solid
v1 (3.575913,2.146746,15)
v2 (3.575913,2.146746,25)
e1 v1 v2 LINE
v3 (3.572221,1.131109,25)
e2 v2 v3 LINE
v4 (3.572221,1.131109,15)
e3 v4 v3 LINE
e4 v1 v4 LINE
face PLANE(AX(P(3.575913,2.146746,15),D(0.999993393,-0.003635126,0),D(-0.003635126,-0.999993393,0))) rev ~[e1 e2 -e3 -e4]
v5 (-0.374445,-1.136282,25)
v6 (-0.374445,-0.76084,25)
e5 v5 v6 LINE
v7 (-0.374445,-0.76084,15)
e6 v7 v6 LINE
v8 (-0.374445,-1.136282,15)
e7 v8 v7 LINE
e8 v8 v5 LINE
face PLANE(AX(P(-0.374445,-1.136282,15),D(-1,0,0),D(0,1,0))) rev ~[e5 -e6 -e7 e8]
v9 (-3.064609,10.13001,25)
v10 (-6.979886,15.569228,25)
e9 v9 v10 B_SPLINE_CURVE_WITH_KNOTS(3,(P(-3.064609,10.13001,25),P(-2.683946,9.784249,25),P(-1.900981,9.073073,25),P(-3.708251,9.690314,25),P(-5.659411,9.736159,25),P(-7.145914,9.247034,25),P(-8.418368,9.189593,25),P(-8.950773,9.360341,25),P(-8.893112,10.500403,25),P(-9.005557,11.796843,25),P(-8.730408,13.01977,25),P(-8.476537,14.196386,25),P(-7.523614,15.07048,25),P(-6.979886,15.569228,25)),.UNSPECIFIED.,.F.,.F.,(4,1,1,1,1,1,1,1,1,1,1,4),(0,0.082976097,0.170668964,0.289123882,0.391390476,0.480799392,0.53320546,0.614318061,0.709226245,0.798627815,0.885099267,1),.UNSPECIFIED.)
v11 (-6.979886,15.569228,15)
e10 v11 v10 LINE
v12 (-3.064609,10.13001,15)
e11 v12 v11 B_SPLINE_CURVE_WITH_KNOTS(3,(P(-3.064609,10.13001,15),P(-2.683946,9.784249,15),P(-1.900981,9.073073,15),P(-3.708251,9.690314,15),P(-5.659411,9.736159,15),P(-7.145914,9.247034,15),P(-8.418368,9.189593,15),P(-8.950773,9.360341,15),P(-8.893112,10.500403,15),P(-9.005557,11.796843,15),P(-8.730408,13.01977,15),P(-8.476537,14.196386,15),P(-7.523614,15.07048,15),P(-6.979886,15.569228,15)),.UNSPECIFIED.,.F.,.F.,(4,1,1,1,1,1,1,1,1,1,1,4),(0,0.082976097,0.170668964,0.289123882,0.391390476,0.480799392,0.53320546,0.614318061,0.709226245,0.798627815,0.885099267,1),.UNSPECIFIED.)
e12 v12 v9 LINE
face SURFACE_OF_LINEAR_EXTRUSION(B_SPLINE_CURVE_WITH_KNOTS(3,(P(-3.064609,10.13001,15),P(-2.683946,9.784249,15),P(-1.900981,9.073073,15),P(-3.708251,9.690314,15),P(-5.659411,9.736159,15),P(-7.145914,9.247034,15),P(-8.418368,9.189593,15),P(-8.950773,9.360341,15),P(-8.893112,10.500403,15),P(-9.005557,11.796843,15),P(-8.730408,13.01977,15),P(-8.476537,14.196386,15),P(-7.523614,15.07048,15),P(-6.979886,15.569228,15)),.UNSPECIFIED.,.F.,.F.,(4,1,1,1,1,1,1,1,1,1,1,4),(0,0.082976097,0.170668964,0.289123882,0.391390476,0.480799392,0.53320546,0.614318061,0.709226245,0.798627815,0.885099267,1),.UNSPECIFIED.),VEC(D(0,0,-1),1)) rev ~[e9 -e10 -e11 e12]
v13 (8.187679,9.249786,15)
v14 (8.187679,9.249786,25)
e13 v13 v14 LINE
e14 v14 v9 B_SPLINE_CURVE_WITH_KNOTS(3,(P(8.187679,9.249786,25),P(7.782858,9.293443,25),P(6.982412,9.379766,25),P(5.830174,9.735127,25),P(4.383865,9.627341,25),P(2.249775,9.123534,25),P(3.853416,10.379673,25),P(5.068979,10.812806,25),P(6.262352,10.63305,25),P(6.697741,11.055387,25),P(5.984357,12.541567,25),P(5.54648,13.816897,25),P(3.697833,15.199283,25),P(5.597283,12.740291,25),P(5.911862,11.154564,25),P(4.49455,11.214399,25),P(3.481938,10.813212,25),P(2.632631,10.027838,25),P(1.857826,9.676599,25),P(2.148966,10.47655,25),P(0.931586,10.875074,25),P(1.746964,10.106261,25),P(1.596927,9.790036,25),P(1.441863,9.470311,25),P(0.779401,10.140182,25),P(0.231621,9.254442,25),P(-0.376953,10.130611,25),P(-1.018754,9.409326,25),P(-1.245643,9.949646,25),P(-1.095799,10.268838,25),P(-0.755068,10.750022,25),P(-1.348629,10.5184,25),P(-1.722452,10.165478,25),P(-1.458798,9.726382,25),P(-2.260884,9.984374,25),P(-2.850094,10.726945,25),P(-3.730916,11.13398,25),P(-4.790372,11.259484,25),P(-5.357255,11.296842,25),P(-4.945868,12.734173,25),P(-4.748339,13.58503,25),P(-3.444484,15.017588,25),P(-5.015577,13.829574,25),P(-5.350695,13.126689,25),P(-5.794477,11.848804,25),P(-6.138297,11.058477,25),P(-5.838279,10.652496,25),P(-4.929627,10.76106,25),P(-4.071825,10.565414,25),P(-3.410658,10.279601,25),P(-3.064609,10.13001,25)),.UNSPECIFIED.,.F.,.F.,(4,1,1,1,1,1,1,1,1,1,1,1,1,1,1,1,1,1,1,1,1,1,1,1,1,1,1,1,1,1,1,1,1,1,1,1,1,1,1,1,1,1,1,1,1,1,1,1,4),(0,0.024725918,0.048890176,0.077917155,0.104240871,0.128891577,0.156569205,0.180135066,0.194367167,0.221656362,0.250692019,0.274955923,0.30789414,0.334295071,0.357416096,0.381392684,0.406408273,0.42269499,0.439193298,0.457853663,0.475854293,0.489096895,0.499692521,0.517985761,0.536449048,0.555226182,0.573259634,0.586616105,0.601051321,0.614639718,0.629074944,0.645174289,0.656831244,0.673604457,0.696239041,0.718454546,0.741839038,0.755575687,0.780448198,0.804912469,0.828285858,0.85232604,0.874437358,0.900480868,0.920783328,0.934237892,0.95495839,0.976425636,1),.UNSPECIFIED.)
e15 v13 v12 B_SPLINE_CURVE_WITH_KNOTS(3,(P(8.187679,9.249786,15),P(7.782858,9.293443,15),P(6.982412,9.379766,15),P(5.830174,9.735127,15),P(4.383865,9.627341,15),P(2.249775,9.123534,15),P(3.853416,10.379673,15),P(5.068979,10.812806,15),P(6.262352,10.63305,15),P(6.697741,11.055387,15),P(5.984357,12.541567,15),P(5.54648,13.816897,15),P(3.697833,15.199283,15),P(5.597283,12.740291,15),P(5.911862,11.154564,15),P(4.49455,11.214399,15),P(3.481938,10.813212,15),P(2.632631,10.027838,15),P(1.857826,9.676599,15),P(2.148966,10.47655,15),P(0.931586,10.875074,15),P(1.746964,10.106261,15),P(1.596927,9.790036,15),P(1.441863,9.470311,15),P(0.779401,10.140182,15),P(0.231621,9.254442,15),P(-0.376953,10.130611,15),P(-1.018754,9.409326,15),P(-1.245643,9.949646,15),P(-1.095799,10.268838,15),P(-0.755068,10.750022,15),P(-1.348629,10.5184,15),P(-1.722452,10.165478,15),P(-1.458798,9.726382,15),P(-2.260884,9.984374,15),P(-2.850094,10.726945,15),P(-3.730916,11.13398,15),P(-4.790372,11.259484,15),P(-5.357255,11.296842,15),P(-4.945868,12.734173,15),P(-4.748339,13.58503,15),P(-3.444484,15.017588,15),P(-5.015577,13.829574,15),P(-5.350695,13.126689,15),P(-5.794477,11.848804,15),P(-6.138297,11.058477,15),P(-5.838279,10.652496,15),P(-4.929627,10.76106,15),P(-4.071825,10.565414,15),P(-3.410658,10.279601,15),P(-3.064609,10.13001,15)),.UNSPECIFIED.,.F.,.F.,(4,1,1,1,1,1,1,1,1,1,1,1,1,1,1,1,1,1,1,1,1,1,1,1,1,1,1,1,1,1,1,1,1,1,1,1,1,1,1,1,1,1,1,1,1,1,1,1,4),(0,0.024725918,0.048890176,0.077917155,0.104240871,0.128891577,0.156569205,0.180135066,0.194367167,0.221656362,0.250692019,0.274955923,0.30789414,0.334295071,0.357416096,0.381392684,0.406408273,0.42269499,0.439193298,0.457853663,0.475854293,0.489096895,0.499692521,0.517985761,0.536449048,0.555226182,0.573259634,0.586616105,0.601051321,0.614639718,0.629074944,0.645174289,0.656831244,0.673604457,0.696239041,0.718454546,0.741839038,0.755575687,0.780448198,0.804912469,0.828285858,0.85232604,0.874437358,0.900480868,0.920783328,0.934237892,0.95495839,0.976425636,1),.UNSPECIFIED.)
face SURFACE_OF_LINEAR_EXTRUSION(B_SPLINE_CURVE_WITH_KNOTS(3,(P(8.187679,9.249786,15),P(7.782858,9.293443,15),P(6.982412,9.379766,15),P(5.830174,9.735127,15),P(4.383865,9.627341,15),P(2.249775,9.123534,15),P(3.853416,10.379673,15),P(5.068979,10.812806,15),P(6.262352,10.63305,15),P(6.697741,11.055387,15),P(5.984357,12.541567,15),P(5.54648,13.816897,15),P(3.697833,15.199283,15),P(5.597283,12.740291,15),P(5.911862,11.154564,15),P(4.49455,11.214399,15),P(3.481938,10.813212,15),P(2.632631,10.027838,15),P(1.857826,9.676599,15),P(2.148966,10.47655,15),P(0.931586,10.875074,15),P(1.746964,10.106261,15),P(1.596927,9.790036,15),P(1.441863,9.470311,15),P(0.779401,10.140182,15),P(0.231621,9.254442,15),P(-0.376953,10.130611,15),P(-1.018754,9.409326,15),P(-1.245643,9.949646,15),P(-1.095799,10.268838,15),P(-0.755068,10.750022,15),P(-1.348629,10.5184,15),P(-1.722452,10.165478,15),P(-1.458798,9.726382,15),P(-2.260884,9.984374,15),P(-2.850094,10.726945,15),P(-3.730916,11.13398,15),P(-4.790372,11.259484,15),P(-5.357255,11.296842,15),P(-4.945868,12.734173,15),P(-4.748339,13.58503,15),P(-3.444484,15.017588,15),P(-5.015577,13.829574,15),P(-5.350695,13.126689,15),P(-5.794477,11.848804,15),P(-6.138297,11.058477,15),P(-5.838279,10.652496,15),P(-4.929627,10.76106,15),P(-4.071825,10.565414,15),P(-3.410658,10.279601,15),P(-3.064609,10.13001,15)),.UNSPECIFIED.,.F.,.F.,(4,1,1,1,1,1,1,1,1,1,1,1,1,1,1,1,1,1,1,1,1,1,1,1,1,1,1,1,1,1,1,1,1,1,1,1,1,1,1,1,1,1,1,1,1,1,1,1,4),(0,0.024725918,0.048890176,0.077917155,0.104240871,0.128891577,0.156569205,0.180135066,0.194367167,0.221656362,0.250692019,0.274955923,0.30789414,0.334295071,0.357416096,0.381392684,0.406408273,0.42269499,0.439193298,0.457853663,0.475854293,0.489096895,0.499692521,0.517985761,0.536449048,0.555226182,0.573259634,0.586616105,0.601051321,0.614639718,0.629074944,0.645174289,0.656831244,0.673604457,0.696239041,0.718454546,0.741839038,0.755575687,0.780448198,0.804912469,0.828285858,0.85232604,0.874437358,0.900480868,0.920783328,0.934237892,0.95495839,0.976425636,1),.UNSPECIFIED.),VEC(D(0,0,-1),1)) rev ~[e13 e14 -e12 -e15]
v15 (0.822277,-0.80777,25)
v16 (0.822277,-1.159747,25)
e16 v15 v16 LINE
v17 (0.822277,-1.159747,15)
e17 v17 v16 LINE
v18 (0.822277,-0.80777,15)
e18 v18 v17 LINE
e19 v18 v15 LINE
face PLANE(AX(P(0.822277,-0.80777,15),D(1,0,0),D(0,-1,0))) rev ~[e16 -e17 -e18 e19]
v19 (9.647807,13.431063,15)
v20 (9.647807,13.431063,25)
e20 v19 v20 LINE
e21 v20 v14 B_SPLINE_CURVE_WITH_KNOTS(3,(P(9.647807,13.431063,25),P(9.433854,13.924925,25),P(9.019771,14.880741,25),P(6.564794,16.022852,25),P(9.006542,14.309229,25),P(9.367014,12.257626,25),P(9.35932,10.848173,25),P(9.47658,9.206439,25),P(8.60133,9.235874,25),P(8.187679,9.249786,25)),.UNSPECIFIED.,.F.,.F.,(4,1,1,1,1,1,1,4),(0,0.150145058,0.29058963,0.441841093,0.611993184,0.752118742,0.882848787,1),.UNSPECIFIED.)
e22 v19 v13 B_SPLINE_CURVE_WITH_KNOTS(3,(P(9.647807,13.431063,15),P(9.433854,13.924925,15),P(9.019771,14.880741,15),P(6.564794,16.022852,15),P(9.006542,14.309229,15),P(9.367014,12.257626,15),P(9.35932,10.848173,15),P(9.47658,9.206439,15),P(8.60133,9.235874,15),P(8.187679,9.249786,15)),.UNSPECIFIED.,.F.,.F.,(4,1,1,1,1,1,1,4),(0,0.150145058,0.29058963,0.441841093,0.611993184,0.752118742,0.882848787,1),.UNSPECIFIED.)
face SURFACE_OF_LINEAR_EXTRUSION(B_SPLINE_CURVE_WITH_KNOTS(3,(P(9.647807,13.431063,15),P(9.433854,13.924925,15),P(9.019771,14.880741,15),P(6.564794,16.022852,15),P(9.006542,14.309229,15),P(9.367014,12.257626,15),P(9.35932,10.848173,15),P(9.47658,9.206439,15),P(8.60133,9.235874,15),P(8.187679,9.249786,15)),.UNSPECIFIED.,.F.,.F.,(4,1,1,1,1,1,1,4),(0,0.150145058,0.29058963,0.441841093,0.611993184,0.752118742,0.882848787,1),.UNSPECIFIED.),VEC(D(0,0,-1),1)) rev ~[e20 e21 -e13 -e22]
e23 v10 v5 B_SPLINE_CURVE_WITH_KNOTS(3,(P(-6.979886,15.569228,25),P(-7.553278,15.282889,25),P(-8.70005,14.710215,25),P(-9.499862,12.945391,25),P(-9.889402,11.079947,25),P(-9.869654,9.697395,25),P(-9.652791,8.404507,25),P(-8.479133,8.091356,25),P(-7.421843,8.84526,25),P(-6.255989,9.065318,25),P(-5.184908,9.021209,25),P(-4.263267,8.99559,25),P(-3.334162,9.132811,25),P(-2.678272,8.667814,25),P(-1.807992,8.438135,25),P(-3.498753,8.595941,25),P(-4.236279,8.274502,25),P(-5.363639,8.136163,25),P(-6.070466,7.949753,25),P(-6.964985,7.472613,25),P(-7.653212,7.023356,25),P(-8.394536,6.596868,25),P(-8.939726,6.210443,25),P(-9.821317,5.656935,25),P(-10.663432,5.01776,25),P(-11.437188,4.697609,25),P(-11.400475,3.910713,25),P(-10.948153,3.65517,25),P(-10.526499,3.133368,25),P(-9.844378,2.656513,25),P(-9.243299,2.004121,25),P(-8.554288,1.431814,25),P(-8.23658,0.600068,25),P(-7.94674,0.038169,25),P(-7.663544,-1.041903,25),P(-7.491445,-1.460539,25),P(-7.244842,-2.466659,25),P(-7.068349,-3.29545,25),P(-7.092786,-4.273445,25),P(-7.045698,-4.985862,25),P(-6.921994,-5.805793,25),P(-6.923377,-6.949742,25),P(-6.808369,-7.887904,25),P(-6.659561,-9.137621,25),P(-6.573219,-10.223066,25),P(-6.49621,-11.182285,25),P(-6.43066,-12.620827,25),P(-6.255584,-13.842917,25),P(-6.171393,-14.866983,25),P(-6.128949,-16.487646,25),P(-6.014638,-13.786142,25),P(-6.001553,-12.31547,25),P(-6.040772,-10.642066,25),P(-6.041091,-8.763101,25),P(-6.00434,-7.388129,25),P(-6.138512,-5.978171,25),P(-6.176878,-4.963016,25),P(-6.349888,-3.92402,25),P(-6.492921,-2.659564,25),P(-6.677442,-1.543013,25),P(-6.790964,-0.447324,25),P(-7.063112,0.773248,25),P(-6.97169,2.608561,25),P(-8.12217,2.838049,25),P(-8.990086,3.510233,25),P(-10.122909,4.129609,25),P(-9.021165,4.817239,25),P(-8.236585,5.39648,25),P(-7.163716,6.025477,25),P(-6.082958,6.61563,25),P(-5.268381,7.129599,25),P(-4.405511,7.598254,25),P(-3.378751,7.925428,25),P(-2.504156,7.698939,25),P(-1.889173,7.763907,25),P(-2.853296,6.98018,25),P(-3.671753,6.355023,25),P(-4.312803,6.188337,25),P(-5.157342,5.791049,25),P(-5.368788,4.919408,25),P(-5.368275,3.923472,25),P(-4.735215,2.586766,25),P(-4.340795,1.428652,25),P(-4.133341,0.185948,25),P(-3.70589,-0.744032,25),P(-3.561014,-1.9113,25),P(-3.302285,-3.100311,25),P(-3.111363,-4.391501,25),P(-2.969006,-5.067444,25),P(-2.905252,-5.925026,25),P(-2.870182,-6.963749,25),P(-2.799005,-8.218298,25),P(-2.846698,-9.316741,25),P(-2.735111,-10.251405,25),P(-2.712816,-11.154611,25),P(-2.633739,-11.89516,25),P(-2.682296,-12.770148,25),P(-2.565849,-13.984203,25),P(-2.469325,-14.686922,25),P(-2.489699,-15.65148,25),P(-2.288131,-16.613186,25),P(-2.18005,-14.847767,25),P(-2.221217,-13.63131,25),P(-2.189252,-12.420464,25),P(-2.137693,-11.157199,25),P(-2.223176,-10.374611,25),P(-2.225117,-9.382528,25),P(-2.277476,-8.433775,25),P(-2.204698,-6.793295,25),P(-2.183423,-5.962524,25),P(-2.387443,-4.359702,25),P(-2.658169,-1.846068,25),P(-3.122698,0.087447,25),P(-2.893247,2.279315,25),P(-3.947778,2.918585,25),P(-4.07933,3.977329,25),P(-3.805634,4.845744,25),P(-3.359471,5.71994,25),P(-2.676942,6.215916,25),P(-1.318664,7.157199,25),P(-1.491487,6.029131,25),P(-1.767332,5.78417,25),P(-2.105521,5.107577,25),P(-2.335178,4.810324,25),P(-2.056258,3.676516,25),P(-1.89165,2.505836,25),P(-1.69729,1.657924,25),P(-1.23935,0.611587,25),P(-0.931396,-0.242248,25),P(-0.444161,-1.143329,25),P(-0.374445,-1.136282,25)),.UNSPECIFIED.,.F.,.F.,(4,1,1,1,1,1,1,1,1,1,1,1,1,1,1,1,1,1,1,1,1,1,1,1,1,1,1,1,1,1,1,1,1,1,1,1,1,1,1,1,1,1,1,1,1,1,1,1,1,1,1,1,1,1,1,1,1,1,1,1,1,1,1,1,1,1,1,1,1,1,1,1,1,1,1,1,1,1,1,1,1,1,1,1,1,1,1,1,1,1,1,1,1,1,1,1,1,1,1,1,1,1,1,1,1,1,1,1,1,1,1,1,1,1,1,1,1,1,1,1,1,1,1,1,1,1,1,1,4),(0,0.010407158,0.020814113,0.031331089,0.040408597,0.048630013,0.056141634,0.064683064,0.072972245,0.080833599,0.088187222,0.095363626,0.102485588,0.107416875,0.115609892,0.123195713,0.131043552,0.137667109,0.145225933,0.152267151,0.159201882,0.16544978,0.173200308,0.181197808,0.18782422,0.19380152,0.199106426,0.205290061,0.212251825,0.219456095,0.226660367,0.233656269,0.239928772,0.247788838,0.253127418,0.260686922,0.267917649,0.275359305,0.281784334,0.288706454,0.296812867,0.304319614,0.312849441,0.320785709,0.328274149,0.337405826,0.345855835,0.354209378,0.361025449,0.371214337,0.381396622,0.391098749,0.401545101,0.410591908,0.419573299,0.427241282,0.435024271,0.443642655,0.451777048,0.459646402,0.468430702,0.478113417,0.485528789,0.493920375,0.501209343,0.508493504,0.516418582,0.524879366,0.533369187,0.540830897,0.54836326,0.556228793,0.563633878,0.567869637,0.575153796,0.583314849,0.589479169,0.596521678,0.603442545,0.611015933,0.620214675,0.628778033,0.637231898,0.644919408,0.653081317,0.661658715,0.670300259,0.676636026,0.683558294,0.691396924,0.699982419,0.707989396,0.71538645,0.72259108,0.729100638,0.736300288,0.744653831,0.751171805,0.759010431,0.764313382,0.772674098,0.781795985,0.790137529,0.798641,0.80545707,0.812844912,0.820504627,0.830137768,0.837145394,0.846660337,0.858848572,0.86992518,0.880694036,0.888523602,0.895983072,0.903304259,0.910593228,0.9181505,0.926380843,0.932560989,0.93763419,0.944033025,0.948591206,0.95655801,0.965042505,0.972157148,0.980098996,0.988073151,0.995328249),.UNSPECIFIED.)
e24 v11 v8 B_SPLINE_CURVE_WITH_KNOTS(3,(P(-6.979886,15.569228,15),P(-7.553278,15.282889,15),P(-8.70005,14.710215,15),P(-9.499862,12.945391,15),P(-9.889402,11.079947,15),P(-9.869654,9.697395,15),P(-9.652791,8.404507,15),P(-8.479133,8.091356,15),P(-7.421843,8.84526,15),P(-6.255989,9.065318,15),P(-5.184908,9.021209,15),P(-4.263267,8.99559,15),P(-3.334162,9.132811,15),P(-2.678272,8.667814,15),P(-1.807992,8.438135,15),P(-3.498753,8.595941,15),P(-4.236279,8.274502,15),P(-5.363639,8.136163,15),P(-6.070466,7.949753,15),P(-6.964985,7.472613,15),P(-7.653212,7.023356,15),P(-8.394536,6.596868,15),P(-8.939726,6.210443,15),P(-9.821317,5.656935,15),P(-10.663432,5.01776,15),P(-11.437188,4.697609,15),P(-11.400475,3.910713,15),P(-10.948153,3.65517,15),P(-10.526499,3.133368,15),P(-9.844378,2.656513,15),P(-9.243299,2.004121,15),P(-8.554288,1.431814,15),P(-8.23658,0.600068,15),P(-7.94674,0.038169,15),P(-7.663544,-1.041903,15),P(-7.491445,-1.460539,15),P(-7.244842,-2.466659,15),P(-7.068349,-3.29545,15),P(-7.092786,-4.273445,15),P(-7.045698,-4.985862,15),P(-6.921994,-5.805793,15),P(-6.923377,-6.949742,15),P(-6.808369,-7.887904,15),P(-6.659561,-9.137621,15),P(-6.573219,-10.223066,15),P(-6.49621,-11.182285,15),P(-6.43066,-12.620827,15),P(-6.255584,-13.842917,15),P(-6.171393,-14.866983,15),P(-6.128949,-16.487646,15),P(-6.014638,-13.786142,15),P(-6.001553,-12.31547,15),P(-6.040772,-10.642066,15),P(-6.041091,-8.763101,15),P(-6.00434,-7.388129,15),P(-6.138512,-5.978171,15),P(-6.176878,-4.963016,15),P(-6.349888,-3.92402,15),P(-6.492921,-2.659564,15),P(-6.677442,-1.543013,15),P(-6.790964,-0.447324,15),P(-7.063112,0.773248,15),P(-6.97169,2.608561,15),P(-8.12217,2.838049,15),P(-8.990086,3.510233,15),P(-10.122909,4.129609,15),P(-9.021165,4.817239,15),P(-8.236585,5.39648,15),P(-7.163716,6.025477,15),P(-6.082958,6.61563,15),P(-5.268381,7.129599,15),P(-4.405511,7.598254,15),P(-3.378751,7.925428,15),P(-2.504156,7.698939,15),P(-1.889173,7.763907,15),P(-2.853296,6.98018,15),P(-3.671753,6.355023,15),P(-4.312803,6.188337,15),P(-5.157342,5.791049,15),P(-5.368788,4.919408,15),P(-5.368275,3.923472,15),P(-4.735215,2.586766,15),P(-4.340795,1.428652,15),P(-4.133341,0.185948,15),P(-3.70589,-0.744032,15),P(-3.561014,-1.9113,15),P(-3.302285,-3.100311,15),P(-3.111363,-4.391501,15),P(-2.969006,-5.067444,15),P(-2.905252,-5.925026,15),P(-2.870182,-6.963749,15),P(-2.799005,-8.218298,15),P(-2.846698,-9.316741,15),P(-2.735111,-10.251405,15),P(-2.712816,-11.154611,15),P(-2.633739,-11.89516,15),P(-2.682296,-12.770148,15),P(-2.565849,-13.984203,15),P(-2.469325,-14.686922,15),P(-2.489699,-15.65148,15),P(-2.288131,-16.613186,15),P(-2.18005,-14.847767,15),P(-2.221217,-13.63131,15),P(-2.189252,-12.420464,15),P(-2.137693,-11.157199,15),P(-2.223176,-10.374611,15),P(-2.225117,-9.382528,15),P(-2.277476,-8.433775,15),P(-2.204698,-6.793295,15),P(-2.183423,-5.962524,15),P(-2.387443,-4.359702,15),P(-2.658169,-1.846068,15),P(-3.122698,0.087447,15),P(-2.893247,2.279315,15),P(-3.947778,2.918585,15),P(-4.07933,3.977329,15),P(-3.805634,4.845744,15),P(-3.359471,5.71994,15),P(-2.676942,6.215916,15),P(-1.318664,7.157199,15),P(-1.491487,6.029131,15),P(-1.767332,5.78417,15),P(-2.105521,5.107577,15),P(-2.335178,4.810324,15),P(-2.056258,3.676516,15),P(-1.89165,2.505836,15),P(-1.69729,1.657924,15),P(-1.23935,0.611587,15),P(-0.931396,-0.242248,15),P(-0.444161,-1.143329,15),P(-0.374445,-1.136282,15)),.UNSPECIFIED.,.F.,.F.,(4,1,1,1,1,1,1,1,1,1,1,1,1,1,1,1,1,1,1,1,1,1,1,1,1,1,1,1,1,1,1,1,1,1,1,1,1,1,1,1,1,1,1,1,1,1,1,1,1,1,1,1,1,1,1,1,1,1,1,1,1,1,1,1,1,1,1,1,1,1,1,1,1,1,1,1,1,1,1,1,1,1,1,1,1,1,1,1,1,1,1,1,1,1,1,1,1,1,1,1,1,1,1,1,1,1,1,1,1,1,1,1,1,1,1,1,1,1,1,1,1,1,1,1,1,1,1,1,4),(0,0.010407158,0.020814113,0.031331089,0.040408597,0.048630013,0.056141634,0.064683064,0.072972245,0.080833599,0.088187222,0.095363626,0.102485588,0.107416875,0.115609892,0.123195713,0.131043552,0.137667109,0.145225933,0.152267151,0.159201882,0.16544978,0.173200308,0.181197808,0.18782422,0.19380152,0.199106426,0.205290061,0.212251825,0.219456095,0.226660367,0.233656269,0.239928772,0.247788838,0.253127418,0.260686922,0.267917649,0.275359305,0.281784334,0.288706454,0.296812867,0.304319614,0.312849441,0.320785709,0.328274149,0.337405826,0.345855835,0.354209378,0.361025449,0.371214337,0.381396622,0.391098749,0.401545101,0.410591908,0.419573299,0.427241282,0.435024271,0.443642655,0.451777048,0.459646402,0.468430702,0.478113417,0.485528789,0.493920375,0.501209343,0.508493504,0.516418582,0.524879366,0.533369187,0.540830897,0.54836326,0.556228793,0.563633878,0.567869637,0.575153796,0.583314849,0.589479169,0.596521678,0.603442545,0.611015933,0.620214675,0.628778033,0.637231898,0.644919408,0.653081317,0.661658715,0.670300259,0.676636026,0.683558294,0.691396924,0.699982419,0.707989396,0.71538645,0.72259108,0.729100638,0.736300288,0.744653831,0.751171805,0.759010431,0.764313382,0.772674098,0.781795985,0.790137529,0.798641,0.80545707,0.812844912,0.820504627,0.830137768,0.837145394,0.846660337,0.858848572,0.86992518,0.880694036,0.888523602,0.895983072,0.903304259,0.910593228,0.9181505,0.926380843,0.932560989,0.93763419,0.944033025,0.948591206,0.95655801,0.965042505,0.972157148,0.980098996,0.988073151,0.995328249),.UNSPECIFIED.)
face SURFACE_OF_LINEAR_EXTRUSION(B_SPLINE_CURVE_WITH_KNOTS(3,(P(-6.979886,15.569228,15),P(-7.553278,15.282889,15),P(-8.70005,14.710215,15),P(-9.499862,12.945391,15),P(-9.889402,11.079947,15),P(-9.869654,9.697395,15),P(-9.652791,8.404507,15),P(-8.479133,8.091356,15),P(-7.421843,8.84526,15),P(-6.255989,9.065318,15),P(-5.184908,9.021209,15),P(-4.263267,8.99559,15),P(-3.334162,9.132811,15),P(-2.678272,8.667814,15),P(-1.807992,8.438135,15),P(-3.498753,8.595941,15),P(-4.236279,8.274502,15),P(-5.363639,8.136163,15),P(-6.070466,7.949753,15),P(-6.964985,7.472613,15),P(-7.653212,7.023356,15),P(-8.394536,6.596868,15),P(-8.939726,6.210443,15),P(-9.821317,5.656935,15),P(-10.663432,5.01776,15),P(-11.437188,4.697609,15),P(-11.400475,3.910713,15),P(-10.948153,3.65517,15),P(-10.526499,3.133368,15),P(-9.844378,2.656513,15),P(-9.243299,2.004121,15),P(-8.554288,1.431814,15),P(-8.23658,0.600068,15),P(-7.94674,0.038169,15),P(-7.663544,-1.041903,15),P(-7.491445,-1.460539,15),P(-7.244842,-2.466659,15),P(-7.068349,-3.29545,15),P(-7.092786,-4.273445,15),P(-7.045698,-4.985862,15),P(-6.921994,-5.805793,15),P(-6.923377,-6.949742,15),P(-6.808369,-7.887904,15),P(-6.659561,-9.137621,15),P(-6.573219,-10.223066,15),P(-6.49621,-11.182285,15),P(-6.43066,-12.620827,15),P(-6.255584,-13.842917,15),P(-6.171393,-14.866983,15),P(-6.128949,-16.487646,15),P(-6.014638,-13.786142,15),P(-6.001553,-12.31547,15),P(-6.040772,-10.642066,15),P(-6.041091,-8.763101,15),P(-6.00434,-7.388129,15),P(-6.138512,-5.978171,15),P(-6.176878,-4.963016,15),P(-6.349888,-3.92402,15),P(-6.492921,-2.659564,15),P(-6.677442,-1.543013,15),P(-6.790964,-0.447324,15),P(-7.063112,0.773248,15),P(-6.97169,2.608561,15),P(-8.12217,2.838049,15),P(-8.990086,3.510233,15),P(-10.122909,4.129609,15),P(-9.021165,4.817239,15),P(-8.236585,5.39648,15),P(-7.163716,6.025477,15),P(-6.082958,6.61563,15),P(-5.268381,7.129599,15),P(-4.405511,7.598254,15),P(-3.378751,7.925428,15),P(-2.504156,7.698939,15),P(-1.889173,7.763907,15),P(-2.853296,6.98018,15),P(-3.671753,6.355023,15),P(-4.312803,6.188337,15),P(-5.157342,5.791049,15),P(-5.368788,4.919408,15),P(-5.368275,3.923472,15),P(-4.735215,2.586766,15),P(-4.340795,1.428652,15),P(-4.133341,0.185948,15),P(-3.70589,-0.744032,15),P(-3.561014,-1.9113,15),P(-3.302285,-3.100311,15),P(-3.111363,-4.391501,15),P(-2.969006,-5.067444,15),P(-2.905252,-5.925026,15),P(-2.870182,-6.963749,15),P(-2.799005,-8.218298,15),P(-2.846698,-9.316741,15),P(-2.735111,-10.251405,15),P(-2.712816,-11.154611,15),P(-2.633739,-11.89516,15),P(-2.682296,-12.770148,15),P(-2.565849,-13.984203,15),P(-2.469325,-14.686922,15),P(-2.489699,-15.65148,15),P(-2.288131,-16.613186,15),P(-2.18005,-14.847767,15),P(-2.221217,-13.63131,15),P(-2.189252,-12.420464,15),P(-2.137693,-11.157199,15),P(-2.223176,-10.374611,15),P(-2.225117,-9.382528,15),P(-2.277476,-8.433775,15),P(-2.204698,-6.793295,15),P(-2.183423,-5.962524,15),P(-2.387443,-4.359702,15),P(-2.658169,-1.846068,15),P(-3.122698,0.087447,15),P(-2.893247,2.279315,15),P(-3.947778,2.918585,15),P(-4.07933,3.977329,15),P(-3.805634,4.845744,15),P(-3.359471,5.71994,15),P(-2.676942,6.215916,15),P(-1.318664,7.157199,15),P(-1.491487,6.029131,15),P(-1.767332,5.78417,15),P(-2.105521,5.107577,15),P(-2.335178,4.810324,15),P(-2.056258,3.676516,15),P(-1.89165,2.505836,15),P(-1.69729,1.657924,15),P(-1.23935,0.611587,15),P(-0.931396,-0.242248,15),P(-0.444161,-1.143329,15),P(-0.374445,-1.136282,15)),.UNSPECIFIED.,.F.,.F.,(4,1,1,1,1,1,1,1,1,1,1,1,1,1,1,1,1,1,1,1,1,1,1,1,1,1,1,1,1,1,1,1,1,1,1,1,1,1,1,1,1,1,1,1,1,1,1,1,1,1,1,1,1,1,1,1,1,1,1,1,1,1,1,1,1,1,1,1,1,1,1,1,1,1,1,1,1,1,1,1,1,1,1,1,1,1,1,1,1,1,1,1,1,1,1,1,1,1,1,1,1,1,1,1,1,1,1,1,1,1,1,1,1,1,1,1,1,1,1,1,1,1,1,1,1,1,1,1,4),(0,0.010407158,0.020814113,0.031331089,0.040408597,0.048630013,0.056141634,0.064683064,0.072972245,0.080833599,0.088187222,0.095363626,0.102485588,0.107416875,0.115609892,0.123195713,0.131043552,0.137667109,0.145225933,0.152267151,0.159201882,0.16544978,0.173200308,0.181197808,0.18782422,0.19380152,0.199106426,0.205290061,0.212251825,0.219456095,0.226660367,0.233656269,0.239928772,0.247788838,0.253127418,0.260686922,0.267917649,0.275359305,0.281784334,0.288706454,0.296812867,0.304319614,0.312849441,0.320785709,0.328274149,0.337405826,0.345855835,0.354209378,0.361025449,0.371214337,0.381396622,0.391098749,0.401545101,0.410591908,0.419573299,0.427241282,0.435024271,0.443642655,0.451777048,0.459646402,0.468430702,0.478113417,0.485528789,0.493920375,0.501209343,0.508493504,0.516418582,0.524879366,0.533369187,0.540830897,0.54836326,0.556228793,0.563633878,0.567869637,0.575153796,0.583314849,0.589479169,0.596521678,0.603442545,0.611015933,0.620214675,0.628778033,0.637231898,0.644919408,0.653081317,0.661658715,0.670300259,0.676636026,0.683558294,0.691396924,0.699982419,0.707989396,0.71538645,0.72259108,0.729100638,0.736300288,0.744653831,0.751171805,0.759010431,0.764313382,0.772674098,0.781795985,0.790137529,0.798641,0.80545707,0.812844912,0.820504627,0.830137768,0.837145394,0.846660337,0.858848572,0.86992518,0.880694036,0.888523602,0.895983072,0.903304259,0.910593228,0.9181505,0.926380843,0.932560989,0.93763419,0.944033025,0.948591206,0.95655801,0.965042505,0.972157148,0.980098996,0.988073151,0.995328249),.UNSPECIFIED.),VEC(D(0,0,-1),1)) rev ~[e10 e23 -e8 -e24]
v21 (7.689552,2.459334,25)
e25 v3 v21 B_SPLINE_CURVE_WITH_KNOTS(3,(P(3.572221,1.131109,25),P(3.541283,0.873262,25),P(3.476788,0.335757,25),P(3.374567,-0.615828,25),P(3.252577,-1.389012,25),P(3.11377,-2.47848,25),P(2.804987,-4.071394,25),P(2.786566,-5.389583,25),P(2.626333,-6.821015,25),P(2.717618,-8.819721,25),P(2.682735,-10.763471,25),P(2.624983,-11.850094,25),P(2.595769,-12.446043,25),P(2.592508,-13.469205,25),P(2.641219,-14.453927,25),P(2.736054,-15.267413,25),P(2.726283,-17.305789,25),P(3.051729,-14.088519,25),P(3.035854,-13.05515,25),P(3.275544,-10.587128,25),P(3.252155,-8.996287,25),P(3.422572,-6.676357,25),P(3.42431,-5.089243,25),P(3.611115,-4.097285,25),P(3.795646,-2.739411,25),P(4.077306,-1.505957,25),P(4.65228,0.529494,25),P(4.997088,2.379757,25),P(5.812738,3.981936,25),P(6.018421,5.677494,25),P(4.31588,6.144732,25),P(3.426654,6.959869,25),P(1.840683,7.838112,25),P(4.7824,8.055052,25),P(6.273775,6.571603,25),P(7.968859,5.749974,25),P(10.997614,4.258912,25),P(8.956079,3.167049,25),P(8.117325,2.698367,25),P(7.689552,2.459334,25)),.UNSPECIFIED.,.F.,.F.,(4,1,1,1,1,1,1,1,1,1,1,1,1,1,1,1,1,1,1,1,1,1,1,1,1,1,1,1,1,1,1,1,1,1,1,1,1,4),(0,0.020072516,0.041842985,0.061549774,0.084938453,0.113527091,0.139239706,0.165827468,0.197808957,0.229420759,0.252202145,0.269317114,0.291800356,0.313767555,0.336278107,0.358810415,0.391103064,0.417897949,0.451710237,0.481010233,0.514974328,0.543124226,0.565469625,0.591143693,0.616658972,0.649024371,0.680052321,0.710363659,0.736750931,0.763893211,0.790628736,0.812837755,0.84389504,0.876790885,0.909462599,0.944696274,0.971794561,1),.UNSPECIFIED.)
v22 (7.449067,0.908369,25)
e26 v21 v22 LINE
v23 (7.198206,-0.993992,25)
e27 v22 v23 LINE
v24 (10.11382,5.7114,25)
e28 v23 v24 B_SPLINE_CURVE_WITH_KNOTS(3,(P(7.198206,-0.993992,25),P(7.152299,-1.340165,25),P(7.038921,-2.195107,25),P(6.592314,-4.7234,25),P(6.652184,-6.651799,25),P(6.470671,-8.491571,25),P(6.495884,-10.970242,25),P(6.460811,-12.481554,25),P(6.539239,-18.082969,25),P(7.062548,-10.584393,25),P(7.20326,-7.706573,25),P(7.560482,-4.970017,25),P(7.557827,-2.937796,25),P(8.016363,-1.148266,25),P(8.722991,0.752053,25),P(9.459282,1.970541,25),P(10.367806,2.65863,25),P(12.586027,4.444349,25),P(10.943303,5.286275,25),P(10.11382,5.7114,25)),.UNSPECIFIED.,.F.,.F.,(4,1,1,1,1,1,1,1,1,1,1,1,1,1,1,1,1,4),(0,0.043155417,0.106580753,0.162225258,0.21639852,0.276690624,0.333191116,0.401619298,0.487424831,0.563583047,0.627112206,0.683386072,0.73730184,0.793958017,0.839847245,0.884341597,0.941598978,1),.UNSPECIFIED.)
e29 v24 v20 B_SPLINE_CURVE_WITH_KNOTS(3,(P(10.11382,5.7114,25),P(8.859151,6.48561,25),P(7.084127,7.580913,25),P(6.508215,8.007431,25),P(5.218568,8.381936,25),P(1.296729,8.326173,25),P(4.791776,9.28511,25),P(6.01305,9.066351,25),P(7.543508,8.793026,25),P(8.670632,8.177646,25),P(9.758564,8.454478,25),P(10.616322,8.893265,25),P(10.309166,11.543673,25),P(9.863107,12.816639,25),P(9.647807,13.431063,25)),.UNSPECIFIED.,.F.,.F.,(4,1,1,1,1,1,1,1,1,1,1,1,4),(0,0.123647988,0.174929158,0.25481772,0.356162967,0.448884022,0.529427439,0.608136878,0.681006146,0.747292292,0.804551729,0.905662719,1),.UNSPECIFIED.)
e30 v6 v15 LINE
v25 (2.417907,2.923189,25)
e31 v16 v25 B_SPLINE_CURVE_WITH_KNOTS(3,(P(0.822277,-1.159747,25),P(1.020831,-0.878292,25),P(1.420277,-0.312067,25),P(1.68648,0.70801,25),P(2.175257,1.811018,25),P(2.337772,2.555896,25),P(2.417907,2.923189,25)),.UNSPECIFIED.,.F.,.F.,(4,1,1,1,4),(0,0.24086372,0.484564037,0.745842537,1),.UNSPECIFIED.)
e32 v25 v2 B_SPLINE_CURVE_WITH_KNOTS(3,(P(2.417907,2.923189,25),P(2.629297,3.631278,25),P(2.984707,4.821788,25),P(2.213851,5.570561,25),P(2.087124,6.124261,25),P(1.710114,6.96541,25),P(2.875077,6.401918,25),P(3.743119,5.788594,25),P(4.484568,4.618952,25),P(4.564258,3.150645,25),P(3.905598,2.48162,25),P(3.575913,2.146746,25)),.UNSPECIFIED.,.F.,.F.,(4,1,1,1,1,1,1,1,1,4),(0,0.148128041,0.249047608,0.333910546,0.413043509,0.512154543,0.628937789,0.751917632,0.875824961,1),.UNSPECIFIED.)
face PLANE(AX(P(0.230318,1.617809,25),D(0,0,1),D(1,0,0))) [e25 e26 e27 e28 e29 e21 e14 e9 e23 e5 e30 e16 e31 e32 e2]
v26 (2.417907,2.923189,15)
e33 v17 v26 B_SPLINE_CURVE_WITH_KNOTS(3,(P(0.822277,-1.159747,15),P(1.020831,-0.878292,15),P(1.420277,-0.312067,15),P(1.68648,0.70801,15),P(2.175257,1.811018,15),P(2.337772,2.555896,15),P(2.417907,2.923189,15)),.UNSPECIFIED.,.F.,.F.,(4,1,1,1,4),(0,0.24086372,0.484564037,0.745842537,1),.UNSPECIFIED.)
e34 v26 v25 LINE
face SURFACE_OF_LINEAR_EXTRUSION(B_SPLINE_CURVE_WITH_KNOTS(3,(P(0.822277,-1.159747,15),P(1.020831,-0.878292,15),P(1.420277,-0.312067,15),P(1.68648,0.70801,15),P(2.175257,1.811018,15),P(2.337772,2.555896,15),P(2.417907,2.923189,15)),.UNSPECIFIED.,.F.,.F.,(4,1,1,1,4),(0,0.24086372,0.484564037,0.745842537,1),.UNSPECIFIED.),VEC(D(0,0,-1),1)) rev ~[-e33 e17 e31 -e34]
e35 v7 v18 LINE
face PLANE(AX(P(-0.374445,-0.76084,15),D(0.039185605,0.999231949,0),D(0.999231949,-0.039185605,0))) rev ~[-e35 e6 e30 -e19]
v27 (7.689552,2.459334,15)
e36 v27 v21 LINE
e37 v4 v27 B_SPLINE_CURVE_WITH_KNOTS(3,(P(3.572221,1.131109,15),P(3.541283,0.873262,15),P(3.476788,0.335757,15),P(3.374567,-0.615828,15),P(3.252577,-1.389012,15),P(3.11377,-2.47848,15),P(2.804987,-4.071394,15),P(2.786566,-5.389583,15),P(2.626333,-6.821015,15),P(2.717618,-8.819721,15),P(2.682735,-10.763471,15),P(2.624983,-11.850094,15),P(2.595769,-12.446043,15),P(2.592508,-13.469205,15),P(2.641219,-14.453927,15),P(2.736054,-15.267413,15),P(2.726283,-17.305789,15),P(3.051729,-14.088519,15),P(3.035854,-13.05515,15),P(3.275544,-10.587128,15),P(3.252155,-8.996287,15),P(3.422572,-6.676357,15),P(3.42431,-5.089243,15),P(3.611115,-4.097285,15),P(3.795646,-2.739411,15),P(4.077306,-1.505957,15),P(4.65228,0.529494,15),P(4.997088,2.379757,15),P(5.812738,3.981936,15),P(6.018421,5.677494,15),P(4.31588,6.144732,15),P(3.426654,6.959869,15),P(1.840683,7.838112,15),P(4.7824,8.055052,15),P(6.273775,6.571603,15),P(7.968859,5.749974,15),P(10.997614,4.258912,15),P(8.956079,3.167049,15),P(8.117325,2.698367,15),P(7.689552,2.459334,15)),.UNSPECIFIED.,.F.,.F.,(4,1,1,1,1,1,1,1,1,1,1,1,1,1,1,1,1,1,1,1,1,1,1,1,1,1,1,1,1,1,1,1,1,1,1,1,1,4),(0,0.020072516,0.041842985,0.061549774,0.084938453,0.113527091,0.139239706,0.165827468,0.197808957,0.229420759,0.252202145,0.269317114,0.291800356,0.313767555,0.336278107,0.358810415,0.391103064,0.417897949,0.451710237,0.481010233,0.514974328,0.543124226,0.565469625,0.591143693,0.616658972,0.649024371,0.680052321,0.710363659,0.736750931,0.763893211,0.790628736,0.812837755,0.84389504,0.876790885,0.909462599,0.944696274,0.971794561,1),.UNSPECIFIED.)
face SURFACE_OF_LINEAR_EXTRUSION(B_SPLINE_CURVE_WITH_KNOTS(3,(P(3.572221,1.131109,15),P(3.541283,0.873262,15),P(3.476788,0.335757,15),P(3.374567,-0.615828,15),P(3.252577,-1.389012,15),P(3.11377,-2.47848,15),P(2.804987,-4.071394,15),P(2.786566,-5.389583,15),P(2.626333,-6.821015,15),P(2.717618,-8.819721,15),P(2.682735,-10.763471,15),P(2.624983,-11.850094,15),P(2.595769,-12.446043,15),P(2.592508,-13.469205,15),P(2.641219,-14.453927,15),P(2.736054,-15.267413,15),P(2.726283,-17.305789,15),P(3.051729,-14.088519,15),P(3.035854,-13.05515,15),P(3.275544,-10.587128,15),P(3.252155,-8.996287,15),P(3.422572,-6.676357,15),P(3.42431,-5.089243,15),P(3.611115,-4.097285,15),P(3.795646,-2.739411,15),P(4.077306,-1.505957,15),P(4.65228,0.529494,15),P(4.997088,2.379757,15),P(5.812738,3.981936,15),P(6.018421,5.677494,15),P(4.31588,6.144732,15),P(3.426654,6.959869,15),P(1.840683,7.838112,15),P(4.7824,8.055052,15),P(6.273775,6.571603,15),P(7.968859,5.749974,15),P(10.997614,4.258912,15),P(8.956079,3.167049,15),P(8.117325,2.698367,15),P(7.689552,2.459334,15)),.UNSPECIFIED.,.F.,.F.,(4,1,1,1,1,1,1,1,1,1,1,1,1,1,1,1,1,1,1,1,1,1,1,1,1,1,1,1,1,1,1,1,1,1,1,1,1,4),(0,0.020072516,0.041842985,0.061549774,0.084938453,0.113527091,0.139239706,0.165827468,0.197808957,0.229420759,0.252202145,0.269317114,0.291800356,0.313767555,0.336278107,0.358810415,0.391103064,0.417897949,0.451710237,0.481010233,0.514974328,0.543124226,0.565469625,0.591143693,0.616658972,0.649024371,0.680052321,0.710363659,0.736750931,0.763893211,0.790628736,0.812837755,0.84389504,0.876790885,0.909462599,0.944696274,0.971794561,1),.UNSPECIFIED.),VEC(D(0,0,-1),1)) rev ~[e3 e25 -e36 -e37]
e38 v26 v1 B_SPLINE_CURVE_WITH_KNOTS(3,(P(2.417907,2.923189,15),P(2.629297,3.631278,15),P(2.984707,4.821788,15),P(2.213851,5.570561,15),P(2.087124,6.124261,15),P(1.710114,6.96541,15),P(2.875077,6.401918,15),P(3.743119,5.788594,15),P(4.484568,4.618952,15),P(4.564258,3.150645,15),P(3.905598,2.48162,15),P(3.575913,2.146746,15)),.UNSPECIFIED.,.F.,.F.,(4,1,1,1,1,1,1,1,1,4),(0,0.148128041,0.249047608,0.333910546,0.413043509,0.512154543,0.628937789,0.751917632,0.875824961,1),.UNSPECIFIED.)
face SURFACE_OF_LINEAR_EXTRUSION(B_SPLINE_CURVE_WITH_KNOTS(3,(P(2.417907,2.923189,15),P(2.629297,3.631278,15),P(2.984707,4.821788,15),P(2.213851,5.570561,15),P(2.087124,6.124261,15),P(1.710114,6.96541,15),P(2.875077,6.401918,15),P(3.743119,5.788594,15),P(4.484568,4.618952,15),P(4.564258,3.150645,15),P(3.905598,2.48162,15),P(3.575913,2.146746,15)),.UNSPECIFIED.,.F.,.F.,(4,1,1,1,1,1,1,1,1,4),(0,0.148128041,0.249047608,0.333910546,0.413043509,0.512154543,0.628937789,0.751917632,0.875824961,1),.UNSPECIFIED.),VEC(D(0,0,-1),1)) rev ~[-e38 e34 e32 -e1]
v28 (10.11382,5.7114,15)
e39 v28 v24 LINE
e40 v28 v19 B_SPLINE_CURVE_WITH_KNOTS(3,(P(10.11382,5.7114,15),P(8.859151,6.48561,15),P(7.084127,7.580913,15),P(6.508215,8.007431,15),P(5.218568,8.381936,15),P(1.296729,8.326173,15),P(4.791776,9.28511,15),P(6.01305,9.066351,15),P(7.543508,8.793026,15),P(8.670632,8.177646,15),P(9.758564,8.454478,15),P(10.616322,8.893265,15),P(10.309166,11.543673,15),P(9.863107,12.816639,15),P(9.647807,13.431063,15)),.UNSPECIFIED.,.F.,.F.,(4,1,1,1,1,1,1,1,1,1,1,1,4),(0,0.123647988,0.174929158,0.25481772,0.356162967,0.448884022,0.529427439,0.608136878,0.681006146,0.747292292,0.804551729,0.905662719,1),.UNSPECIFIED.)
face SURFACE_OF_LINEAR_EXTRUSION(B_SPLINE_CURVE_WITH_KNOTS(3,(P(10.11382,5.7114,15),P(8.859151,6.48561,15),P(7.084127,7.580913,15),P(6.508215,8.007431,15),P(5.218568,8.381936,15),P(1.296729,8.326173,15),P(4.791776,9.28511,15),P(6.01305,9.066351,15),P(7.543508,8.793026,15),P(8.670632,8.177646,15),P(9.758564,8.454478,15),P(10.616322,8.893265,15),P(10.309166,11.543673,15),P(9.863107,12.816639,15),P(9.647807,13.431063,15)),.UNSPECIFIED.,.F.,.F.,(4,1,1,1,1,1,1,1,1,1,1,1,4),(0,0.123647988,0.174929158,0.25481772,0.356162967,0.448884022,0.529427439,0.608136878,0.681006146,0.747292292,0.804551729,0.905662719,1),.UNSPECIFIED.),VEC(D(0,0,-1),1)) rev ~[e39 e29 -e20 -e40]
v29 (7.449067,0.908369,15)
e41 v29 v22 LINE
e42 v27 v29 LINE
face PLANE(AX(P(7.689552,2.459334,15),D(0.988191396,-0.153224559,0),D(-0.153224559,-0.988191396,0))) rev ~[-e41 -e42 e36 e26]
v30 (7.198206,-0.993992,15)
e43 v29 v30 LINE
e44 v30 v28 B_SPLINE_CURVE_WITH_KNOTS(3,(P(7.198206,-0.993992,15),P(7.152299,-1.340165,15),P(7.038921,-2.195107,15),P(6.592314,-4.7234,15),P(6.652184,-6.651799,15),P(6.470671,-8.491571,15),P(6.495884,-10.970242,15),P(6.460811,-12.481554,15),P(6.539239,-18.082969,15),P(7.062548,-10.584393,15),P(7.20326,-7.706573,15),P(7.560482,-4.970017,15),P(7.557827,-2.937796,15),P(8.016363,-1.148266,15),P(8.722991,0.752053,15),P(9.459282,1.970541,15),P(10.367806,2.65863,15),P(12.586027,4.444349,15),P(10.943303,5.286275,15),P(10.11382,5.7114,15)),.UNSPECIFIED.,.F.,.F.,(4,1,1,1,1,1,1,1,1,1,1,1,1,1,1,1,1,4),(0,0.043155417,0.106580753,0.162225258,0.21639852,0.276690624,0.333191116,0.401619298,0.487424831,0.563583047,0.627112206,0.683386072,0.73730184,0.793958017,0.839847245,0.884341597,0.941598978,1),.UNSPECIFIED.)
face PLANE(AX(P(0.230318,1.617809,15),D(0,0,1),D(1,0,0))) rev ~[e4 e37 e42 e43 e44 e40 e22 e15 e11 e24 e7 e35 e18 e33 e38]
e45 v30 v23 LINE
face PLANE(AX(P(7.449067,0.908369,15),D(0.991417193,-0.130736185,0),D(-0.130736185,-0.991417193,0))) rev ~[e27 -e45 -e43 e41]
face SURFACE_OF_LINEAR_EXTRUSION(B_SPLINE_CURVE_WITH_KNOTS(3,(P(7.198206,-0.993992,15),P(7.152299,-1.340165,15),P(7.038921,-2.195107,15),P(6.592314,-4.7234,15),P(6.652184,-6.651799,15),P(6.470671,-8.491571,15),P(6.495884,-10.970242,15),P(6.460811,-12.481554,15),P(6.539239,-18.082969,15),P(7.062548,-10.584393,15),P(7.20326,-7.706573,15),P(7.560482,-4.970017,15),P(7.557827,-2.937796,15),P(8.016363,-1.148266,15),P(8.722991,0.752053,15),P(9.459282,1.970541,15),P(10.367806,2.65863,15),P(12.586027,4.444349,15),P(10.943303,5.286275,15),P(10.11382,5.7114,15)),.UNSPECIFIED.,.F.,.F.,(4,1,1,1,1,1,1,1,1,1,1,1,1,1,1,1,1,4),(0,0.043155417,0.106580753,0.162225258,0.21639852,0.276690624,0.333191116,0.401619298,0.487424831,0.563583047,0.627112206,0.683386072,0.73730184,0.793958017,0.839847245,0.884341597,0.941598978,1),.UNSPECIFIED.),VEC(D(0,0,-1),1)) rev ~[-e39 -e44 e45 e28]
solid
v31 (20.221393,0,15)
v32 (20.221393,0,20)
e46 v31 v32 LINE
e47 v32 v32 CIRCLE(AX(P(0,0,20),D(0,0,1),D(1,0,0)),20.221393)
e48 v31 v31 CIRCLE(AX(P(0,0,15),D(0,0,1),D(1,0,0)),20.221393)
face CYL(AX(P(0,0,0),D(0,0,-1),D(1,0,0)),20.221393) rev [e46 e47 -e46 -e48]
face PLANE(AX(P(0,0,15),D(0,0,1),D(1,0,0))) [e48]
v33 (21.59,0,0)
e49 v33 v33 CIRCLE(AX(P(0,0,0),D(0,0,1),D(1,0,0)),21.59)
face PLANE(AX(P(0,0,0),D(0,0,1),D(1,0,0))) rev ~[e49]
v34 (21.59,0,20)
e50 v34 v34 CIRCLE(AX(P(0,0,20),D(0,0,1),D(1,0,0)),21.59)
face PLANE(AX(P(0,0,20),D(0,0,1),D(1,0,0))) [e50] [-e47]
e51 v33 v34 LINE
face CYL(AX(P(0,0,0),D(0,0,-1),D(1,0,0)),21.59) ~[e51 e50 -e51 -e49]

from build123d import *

# Parameters (mm, degrees)
F0_R     = 21.59
F0_R_2   = 20.2213928321
F1_DEPTH = 20
F2_DEPTH = 15
F4_DEPTH = 10


with BuildPart() as f1:
    # F0 (on Top) → F1 (new body)
    with BuildSketch(Plane.XY):
        Circle(F0_R)
        Circle(F0_R_2, mode=Mode.SUBTRACT)
    extrude(amount=F1_DEPTH)

    # F0 (on Top) → F2 (join)
    with BuildSketch(Plane.XY):
        Circle(F0_R_2)
    extrude(amount=F2_DEPTH)


with BuildPart() as f4:
    # F3 (on face) → F4 (new body)
    with BuildSketch(Plane.XY.offset(15)):
        with BuildLine():
            add(Edge.make_bspline(
                [(-3.0646091327, 10.1300096139), (-2.6839459624, 9.7842488918), (-1.900980851, 9.0730727041), (-3.7082513549, 9.6903141034), (-5.6594109523, 9.7361592532), (-7.145914299, 9.2470344788), (-8.4183680808, 9.1895934718), (-8.950772633, 9.3603409292), (-8.8931120886, 10.5004028882), (-9.005557496, 11.7968432532), (-8.7304075504, 13.0197695346), (-8.4765367714, 14.1963855651), (-7.5236137414, 15.0704798187), (-6.9798864424, 15.5692282933)],
                knots=[0, 0, 0, 0, 0.082976097, 0.1706689643, 0.2891238816, 0.3913904756, 0.4807993915, 0.5332054597, 0.6143180613, 0.709226245, 0.7986278149, 0.8850992673, 1, 1, 1, 1], degree=3))
            add(Edge.make_bspline(
                [(-6.9798864424, 15.5692282933), (-7.5532780833, 15.2828885467), (-8.7000501748, 14.7102146417), (-9.4998620444, 12.9453905753), (-9.8894021915, 11.0799472827), (-9.8696537851, 9.6973946996), (-9.6527911479, 8.4045071082), (-8.4791329068, 8.0913561759), (-7.4218432272, 8.8452602414), (-6.2559888946, 9.0653181927), (-5.1849076053, 9.0212089983), (-4.2632666048, 8.995589735), (-3.3341620862, 9.1328111126), (-2.6782721473, 8.6678141987), (-1.8079915194, 8.4381350293), (-3.4987530412, 8.5959411372), (-4.2362793936, 8.2745016734), (-5.3636390027, 8.1361627037), (-6.0704659773, 7.9497526845), (-6.9649853992, 7.4726130293), (-7.6532117747, 7.0233555889), (-8.3945355092, 6.5968681888), (-8.9397255179, 6.2104431262), (-9.8213173577, 5.6569348882), (-10.6634316653, 5.0177599349), (-11.4371876309, 4.6976091331), (-11.4004746929, 3.9107126339), (-10.9481527052, 3.6551703854), (-10.5264993023, 3.133367723), (-9.8443780573, 2.6565133651), (-9.2432989483, 2.004120856), (-8.5542878093, 1.4318144882), (-8.2365797176, 0.6000676508), (-7.9467401427, 0.0381688427), (-7.6635444839, -1.0419027255), (-7.4914452083, -1.4605394204), (-7.2448424445, -2.4666591101), (-7.0683487116, -3.295450389), (-7.0927860287, -4.2734446627), (-7.0456975881, -4.9858615942), (-6.9219942474, -5.8057928955), (-6.92337741, -6.94974161), (-6.8083692317, -7.8879040697), (-6.6595612604, -9.1376208916), (-6.5732193602, -10.2230661823), (-6.4962101584, -11.1822852238), (-6.4306599297, -12.6208265711), (-6.2555836196, -13.8429173005), (-6.1713934735, -14.8669832279), (-6.1289493436, -16.4876464635), (-6.0146376332, -13.786142406), (-6.0015526846, -12.3154704939), (-6.0407719158, -10.6420664239), (-6.0410907419, -8.7631014543), (-6.0043402596, -7.3881287797), (-6.1385121176, -5.978171406), (-6.1768776958, -4.9630162135), (-6.3498884728, -3.9240196795), (-6.4929207082, -2.65956396), (-6.6774420065, -1.5430128352), (-6.7909636052, -0.4473237611), (-7.0631116429, 0.7732475389), (-6.9716904926, 2.6085609631), (-8.122169767, 2.8380485466), (-8.9900863978, 3.510233487), (-10.1229091686, 4.1296087793), (-9.0211649135, 4.8172393306), (-8.2365849992, 5.3964797923), (-7.1637164163, 6.0254765815), (-6.0829583285, 6.6156295898), (-5.2683810263, 7.1295992002), (-4.4055109976, 7.5982542849), (-3.3787513869, 7.9254275287), (-2.5041557723, 7.6989388718), (-1.88917328, 7.7639066401), (-2.8532958733, 6.980180085), (-3.6717530799, 6.3550225528), (-4.3128028992, 6.1883368977), (-5.157342115, 5.7910489569), (-5.3687875922, 4.9194084232), (-5.368274718, 3.9234717915), (-4.7352146296, 2.5867660138), (-4.3407949136, 1.4286519087), (-4.1333406577, 0.1859480159), (-3.7058898931, -0.7440319897), (-3.5610139398, -1.9112996279), (-3.3022854313, -3.1003108326), (-3.1113627285, -4.3915009866), (-2.9690057145, -5.0674439033), (-2.9052515371, -5.9250255794), (-2.8701819797, -6.9637485643), (-2.7990054338, -8.2182979471), (-2.8466977747, -9.3167409829), (-2.7351107309, -10.2514054675), (-2.7128163285, -11.1546105902), (-2.6337385812, -11.8951604119), (-2.6822960545, -12.7701482881), (-2.5658488038, -13.9842031401), (-2.4693246121, -14.6869217334), (-2.4896992627, -15.6514800951), (-2.288130753, -16.6131860227), (-2.1800501205, -14.8477674886), (-2.2212174364, -13.6313098613), (-2.1892519335, -12.4204637296), (-2.1376928844, -11.1571985627), (-2.2231755687, -10.3746106809), (-2.2251165974, -9.3825282828), (-2.2774761501, -8.4337751474), (-2.2046975662, -6.7932954098), (-2.1834231051, -5.9625237527), (-2.3874430046, -4.3597015668), (-2.658169066, -1.8460679722), (-3.1226982085, 0.087447004), (-2.8932466172, 2.2793147591), (-3.9477784067, 2.9185846064), (-4.0793297176, 3.977328714), (-3.8056341702, 4.8457437366), (-3.3594711418, 5.7199404594), (-2.67694182, 6.2159157547), (-1.3186642815, 7.1571991838), (-1.4914872679, 6.0291307058), (-1.7673321735, 5.7841698367), (-2.1055207739, 5.1075766382), (-2.335178495, 4.8103242042), (-2.0562577965, 3.6765162477), (-1.8916499503, 2.5058362153), (-1.6972903956, 1.6579243156), (-1.2393497839, 0.6115874676), (-0.9313955976, -0.2422478125), (-0.4441608758, -1.1433292635), (-0.3744453716, -1.1362821097)],
                knots=[0, 0, 0, 0, 0.0104071579, 0.0208141126, 0.0313310889, 0.0404085975, 0.0486300131, 0.0561416344, 0.064683064, 0.0729722453, 0.0808335992, 0.088187222, 0.0953636259, 0.1024855875, 0.1074168747, 0.1156098918, 0.1231957127, 0.1310435516, 0.1376671092, 0.1452259332, 0.1522671507, 0.1592018822, 0.1654497801, 0.1732003081, 0.1811978078, 0.1878242205, 0.1938015201, 0.1991064261, 0.2052900612, 0.212251825, 0.219456095, 0.2266603667, 0.2336562693, 0.2399287724, 0.2477888382, 0.253127418, 0.2606869222, 0.2679176488, 0.275359305, 0.2817843342, 0.2887064544, 0.2968128673, 0.3043196141, 0.3128494407, 0.3207857092, 0.3282741488, 0.3374058256, 0.345855835, 0.3542093784, 0.3610254485, 0.3712143368, 0.3813966219, 0.391098749, 0.4015451009, 0.4105919078, 0.4195732988, 0.4272412823, 0.4350242707, 0.4436426547, 0.4517770476, 0.4596464022, 0.468430702, 0.4781134173, 0.4855287889, 0.4939203746, 0.501209343, 0.5084935037, 0.5164185821, 0.524879366, 0.5333691866, 0.540830897, 0.5483632596, 0.5562287932, 0.563633878, 0.567869637, 0.5751537957, 0.5833148491, 0.5894791692, 0.5965216782, 0.6034425448, 0.6110159329, 0.6202146749, 0.6287780334, 0.6372318978, 0.6449194079, 0.6530813168, 0.6616587155, 0.6703002588, 0.6766360256, 0.6835582944, 0.6913969243, 0.6999824193, 0.7079893961, 0.7153864499, 0.72259108, 0.7291006383, 0.7363002877, 0.7446538311, 0.751171805, 0.7590104314, 0.7643133822, 0.7726740983, 0.7817959852, 0.7901375294, 0.7986409999, 0.80545707, 0.812844912, 0.8205046265, 0.8301377683, 0.8371453943, 0.8466603366, 0.8588485716, 0.86992518, 0.8806940365, 0.8885236019, 0.8959830723, 0.9033042592, 0.9105932281, 0.9181505003, 0.9263808433, 0.932560989, 0.9376341902, 0.9440330248, 0.9485912056, 0.9565580102, 0.9650425047, 0.9721571483, 0.9800989964, 0.9880731507, 0.9953282495, 0.9953282495, 0.9953282495, 0.9953282495], degree=3))
            Line((-0.3744453716, -1.1362821097), (-0.3744453716, -0.7608397282))
            Line((-0.3744453716, -0.7608397282), (0.8222769829, -0.8077700622))
            Line((0.8222769829, -0.8077700622), (0.8222769829, -1.1597472476))
            add(Edge.make_bspline(
                [(0.8222769829, -1.1597472476), (1.0208309035, -0.8782919287), (1.420277069, -0.3120666556), (1.6864799166, 0.7080095761), (2.1752565536, 1.8110180967), (2.337772167, 2.5558956418), (2.4179073516, 2.9231889639)],
                knots=[0, 0, 0, 0, 0.2408637201, 0.4845640375, 0.7458425371, 1, 1, 1, 1], degree=3))
            add(Edge.make_bspline(
                [(2.4179073516, 2.9231889639), (2.6292971153, 3.6312779308), (2.9847066307, 4.8217875952), (2.2138512233, 5.5705612597), (2.0871238374, 6.1242605637), (1.7101143079, 6.9654103517), (2.8750768819, 6.4019175613), (3.7431194496, 5.7885939112), (4.4845675058, 4.6189515151), (4.5642577337, 3.1506451165), (3.9055984179, 2.4816198672), (3.5759133752, 2.1467462648)],
                knots=[0, 0, 0, 0, 0.1481280405, 0.2490476084, 0.3339105462, 0.4130435093, 0.5121545425, 0.6289377894, 0.7519176324, 0.8758249614, 1, 1, 1, 1], degree=3))
            Line((3.5759133752, 2.1467462648), (3.5722213797, 1.1311086128))
            add(Edge.make_bspline(
                [(3.5722213797, 1.1311086128), (3.5412825748, 0.8732619921), (3.4767878206, 0.335757248), (3.3745665484, -0.6158280242), (3.2525772067, -1.3890119224), (3.1137696917, -2.4784802426), (2.8049871896, -4.071393644), (2.7865660832, -5.3895825391), (2.6263327032, -6.8210149434), (2.7176177061, -8.8197205045), (2.6827349859, -10.7634709586), (2.6249831496, -11.8500942654), (2.595768523, -12.4460427724), (2.5925075804, -13.4692053855), (2.6412187234, -14.4539270144), (2.7360544571, -15.2674127127), (2.72628344, -17.3057888909), (3.0517294659, -14.0885188815), (3.0358540259, -13.0551502287), (3.2755437329, -10.587127632), (3.2521547652, -8.9962871328), (3.4225716992, -6.6763568029), (3.4243104919, -5.0892426117), (3.611115019, -4.0972854935), (3.7956455896, -2.7394108527), (4.0773062238, -1.5059573681), (4.6522800721, 0.5294936506), (4.9970882384, 2.3797570807), (5.8127384167, 3.9819360272), (6.0184205812, 5.6774938129), (4.3158801028, 6.1447320387), (3.426654266, 6.9598692161), (1.8406827472, 7.8381124833), (4.7823998845, 8.0550519771), (6.2737745293, 6.5716028419), (7.9688592521, 5.7499736273), (10.9976135329, 4.2589119299), (8.9560789684, 3.1670493817), (8.1173250525, 2.6983665536), (7.6895523816, 2.4593337439)],
                knots=[0, 0, 0, 0, 0.0200725157, 0.0418429855, 0.0615497743, 0.0849384528, 0.1135270907, 0.1392397056, 0.1658274679, 0.1978089568, 0.2294207587, 0.2522021445, 0.2693171137, 0.2918003558, 0.3137675552, 0.3362781068, 0.3588104145, 0.391103064, 0.4178979485, 0.4517102373, 0.4810102335, 0.5149743279, 0.5431242258, 0.5654696254, 0.5911436933, 0.6166589717, 0.6490243713, 0.6800523206, 0.7103636593, 0.7367509308, 0.7638932112, 0.7906287361, 0.8128377554, 0.8438950403, 0.8767908851, 0.9094625988, 0.9446962744, 0.971794561, 1, 1, 1, 1], degree=3))
            Line((7.6895523816, 2.4593337439), (7.4490667321, 0.9083692566))
            Line((7.4490667321, 0.9083692566), (7.198206149, -0.9939923184))
            add(Edge.make_bspline(
                [(7.198206149, -0.9939923184), (7.1522985432, -1.3401653048), (7.0389207207, -2.1951072829), (6.5923139667, -4.7234001999), (6.6521842986, -6.6517985534), (6.4706707784, -8.4915714031), (6.4958836869, -10.9702416995), (6.4608105615, -12.4815543299), (6.5392392436, -18.0829692453), (7.0625476608, -10.5843934067), (7.2032600588, -7.706572815), (7.5604821933, -4.9700171017), (7.5578266527, -2.9377955252), (8.0163631914, -1.1482657912), (8.7229914822, 0.7520534958), (9.459281676, 1.970540729), (10.3678059537, 2.6586300407), (12.5860274605, 4.4443492716), (10.9433032849, 5.2862747149), (10.1138195023, 5.7113999501)],
                knots=[0, 0, 0, 0, 0.043155417, 0.1065807532, 0.162225258, 0.2163985204, 0.276690624, 0.3331911161, 0.4016192985, 0.4874248315, 0.5635830474, 0.6271122059, 0.6833860716, 0.7373018403, 0.7939580168, 0.8398472445, 0.8843415967, 0.9415989785, 1, 1, 1, 1], degree=3))
            add(Edge.make_bspline(
                [(10.1138195023, 5.7113999501), (8.8591510476, 6.48561015), (7.0841274529, 7.5809125519), (6.5082150764, 8.0074314891), (5.2185677811, 8.381936075), (1.2967294816, 8.3261728393), (4.7917761644, 9.285110261), (6.0130496589, 9.0663510976), (7.543507824, 8.7930255184), (8.6706323796, 8.1776455153), (9.7585642285, 8.4544775622), (10.6163222448, 8.8932646529), (10.3091658311, 11.5436731016), (9.8631069488, 12.8166388344), (9.6478071064, 13.4310629219)],
                knots=[0, 0, 0, 0, 0.1236479883, 0.1749291583, 0.2548177198, 0.3561629674, 0.4488840224, 0.5294274389, 0.6081368779, 0.6810061456, 0.7472922918, 0.804551729, 0.9056627194, 1, 1, 1, 1], degree=3))
            add(Edge.make_bspline(
                [(9.6478071064, 13.4310629219), (9.4338541418, 13.9249247027), (9.0197711636, 14.8807411243), (6.5647939117, 16.0228519142), (9.0065419046, 14.3092289641), (9.3670143122, 12.2576256866), (9.3593198252, 10.848173446), (9.4765797809, 9.2064388139), (8.6013304224, 9.2358743705), (8.1876786426, 9.249785915)],
                knots=[0, 0, 0, 0, 0.150145058, 0.2905896298, 0.441841093, 0.6119931842, 0.7521187419, 0.8828487875, 1, 1, 1, 1], degree=3))
            add(Edge.make_bspline(
                [(8.1876786426, 9.249785915), (7.7828578324, 9.2934431037), (6.9824118952, 9.3797657889), (5.830173857, 9.7351271346), (4.3838654666, 9.6273408854), (2.2497752485, 9.1235342659), (3.8534160331, 10.3796734561), (5.0689785461, 10.812805892), (6.2623517972, 10.6330499935), (6.6977410047, 11.0553873607), (5.9843567801, 12.5415672625), (5.5464804762, 13.8168965087), (3.6978328956, 15.1992829354), (5.5972833178, 12.7402911347), (5.9118619989, 11.1545637143), (4.4945503407, 11.2143993487), (3.4819376971, 10.8132119839), (2.6326308515, 10.0278379619), (1.8578255936, 9.6765987215), (2.1489657166, 10.4765496534), (0.931586014, 10.8750741234), (1.7469636462, 10.1062612873), (1.5969273779, 9.790035995), (1.4418631847, 9.4703109753), (0.7794009867, 10.1401819929), (0.2316205506, 9.2544416249), (-0.3769533472, 10.1306114041), (-1.018754083, 9.4093264937), (-1.2456428666, 9.9496461749), (-1.0957987506, 10.2688376785), (-0.7550679536, 10.7500223457), (-1.3486287073, 10.5184004355), (-1.7224521, 10.1654779231), (-1.4587981738, 9.7263817087), (-2.2608844499, 9.9843743275), (-2.8500943384, 10.7269453296), (-3.7309155631, 11.1339800021), (-4.7903718079, 11.2594840044), (-5.3572554278, 11.296841569), (-4.9458679716, 12.7341732208), (-4.7483392135, 13.5850304267), (-3.4444841592, 15.0175882414), (-5.0155769639, 13.82957428), (-5.3506946949, 13.1266889176), (-5.7944773643, 11.8488044492), (-6.1382970084, 11.0584770916), (-5.838279422, 10.6524962188), (-4.9296267818, 10.7610599836), (-4.0718247942, 10.5654138857), (-3.410657834, 10.2796012938), (-3.0646091327, 10.1300096139)],
                knots=[0, 0, 0, 0, 0.024725918, 0.0488901758, 0.077917155, 0.1042408715, 0.1288915774, 0.1565692046, 0.1801350664, 0.1943671669, 0.2216563624, 0.2506920186, 0.2749559234, 0.3078941396, 0.3342950711, 0.357416096, 0.3813926842, 0.4064082726, 0.4226949901, 0.4391932983, 0.4578536632, 0.4758542927, 0.4890968949, 0.499692521, 0.5179857608, 0.5364490482, 0.5552261823, 0.5732596339, 0.5866161052, 0.6010513211, 0.6146397184, 0.6290749437, 0.6451742885, 0.6568312436, 0.673604457, 0.6962390407, 0.7184545462, 0.7418390375, 0.7555756873, 0.7804481977, 0.8049124695, 0.8282858582, 0.8523260404, 0.8744373579, 0.9004808677, 0.9207833277, 0.9342378917, 0.95495839, 0.9764256359, 1, 1, 1, 1], degree=3))
        make_face()
    extrude(amount=F4_DEPTH)


solid = Compound([f1.part, f4.part])
